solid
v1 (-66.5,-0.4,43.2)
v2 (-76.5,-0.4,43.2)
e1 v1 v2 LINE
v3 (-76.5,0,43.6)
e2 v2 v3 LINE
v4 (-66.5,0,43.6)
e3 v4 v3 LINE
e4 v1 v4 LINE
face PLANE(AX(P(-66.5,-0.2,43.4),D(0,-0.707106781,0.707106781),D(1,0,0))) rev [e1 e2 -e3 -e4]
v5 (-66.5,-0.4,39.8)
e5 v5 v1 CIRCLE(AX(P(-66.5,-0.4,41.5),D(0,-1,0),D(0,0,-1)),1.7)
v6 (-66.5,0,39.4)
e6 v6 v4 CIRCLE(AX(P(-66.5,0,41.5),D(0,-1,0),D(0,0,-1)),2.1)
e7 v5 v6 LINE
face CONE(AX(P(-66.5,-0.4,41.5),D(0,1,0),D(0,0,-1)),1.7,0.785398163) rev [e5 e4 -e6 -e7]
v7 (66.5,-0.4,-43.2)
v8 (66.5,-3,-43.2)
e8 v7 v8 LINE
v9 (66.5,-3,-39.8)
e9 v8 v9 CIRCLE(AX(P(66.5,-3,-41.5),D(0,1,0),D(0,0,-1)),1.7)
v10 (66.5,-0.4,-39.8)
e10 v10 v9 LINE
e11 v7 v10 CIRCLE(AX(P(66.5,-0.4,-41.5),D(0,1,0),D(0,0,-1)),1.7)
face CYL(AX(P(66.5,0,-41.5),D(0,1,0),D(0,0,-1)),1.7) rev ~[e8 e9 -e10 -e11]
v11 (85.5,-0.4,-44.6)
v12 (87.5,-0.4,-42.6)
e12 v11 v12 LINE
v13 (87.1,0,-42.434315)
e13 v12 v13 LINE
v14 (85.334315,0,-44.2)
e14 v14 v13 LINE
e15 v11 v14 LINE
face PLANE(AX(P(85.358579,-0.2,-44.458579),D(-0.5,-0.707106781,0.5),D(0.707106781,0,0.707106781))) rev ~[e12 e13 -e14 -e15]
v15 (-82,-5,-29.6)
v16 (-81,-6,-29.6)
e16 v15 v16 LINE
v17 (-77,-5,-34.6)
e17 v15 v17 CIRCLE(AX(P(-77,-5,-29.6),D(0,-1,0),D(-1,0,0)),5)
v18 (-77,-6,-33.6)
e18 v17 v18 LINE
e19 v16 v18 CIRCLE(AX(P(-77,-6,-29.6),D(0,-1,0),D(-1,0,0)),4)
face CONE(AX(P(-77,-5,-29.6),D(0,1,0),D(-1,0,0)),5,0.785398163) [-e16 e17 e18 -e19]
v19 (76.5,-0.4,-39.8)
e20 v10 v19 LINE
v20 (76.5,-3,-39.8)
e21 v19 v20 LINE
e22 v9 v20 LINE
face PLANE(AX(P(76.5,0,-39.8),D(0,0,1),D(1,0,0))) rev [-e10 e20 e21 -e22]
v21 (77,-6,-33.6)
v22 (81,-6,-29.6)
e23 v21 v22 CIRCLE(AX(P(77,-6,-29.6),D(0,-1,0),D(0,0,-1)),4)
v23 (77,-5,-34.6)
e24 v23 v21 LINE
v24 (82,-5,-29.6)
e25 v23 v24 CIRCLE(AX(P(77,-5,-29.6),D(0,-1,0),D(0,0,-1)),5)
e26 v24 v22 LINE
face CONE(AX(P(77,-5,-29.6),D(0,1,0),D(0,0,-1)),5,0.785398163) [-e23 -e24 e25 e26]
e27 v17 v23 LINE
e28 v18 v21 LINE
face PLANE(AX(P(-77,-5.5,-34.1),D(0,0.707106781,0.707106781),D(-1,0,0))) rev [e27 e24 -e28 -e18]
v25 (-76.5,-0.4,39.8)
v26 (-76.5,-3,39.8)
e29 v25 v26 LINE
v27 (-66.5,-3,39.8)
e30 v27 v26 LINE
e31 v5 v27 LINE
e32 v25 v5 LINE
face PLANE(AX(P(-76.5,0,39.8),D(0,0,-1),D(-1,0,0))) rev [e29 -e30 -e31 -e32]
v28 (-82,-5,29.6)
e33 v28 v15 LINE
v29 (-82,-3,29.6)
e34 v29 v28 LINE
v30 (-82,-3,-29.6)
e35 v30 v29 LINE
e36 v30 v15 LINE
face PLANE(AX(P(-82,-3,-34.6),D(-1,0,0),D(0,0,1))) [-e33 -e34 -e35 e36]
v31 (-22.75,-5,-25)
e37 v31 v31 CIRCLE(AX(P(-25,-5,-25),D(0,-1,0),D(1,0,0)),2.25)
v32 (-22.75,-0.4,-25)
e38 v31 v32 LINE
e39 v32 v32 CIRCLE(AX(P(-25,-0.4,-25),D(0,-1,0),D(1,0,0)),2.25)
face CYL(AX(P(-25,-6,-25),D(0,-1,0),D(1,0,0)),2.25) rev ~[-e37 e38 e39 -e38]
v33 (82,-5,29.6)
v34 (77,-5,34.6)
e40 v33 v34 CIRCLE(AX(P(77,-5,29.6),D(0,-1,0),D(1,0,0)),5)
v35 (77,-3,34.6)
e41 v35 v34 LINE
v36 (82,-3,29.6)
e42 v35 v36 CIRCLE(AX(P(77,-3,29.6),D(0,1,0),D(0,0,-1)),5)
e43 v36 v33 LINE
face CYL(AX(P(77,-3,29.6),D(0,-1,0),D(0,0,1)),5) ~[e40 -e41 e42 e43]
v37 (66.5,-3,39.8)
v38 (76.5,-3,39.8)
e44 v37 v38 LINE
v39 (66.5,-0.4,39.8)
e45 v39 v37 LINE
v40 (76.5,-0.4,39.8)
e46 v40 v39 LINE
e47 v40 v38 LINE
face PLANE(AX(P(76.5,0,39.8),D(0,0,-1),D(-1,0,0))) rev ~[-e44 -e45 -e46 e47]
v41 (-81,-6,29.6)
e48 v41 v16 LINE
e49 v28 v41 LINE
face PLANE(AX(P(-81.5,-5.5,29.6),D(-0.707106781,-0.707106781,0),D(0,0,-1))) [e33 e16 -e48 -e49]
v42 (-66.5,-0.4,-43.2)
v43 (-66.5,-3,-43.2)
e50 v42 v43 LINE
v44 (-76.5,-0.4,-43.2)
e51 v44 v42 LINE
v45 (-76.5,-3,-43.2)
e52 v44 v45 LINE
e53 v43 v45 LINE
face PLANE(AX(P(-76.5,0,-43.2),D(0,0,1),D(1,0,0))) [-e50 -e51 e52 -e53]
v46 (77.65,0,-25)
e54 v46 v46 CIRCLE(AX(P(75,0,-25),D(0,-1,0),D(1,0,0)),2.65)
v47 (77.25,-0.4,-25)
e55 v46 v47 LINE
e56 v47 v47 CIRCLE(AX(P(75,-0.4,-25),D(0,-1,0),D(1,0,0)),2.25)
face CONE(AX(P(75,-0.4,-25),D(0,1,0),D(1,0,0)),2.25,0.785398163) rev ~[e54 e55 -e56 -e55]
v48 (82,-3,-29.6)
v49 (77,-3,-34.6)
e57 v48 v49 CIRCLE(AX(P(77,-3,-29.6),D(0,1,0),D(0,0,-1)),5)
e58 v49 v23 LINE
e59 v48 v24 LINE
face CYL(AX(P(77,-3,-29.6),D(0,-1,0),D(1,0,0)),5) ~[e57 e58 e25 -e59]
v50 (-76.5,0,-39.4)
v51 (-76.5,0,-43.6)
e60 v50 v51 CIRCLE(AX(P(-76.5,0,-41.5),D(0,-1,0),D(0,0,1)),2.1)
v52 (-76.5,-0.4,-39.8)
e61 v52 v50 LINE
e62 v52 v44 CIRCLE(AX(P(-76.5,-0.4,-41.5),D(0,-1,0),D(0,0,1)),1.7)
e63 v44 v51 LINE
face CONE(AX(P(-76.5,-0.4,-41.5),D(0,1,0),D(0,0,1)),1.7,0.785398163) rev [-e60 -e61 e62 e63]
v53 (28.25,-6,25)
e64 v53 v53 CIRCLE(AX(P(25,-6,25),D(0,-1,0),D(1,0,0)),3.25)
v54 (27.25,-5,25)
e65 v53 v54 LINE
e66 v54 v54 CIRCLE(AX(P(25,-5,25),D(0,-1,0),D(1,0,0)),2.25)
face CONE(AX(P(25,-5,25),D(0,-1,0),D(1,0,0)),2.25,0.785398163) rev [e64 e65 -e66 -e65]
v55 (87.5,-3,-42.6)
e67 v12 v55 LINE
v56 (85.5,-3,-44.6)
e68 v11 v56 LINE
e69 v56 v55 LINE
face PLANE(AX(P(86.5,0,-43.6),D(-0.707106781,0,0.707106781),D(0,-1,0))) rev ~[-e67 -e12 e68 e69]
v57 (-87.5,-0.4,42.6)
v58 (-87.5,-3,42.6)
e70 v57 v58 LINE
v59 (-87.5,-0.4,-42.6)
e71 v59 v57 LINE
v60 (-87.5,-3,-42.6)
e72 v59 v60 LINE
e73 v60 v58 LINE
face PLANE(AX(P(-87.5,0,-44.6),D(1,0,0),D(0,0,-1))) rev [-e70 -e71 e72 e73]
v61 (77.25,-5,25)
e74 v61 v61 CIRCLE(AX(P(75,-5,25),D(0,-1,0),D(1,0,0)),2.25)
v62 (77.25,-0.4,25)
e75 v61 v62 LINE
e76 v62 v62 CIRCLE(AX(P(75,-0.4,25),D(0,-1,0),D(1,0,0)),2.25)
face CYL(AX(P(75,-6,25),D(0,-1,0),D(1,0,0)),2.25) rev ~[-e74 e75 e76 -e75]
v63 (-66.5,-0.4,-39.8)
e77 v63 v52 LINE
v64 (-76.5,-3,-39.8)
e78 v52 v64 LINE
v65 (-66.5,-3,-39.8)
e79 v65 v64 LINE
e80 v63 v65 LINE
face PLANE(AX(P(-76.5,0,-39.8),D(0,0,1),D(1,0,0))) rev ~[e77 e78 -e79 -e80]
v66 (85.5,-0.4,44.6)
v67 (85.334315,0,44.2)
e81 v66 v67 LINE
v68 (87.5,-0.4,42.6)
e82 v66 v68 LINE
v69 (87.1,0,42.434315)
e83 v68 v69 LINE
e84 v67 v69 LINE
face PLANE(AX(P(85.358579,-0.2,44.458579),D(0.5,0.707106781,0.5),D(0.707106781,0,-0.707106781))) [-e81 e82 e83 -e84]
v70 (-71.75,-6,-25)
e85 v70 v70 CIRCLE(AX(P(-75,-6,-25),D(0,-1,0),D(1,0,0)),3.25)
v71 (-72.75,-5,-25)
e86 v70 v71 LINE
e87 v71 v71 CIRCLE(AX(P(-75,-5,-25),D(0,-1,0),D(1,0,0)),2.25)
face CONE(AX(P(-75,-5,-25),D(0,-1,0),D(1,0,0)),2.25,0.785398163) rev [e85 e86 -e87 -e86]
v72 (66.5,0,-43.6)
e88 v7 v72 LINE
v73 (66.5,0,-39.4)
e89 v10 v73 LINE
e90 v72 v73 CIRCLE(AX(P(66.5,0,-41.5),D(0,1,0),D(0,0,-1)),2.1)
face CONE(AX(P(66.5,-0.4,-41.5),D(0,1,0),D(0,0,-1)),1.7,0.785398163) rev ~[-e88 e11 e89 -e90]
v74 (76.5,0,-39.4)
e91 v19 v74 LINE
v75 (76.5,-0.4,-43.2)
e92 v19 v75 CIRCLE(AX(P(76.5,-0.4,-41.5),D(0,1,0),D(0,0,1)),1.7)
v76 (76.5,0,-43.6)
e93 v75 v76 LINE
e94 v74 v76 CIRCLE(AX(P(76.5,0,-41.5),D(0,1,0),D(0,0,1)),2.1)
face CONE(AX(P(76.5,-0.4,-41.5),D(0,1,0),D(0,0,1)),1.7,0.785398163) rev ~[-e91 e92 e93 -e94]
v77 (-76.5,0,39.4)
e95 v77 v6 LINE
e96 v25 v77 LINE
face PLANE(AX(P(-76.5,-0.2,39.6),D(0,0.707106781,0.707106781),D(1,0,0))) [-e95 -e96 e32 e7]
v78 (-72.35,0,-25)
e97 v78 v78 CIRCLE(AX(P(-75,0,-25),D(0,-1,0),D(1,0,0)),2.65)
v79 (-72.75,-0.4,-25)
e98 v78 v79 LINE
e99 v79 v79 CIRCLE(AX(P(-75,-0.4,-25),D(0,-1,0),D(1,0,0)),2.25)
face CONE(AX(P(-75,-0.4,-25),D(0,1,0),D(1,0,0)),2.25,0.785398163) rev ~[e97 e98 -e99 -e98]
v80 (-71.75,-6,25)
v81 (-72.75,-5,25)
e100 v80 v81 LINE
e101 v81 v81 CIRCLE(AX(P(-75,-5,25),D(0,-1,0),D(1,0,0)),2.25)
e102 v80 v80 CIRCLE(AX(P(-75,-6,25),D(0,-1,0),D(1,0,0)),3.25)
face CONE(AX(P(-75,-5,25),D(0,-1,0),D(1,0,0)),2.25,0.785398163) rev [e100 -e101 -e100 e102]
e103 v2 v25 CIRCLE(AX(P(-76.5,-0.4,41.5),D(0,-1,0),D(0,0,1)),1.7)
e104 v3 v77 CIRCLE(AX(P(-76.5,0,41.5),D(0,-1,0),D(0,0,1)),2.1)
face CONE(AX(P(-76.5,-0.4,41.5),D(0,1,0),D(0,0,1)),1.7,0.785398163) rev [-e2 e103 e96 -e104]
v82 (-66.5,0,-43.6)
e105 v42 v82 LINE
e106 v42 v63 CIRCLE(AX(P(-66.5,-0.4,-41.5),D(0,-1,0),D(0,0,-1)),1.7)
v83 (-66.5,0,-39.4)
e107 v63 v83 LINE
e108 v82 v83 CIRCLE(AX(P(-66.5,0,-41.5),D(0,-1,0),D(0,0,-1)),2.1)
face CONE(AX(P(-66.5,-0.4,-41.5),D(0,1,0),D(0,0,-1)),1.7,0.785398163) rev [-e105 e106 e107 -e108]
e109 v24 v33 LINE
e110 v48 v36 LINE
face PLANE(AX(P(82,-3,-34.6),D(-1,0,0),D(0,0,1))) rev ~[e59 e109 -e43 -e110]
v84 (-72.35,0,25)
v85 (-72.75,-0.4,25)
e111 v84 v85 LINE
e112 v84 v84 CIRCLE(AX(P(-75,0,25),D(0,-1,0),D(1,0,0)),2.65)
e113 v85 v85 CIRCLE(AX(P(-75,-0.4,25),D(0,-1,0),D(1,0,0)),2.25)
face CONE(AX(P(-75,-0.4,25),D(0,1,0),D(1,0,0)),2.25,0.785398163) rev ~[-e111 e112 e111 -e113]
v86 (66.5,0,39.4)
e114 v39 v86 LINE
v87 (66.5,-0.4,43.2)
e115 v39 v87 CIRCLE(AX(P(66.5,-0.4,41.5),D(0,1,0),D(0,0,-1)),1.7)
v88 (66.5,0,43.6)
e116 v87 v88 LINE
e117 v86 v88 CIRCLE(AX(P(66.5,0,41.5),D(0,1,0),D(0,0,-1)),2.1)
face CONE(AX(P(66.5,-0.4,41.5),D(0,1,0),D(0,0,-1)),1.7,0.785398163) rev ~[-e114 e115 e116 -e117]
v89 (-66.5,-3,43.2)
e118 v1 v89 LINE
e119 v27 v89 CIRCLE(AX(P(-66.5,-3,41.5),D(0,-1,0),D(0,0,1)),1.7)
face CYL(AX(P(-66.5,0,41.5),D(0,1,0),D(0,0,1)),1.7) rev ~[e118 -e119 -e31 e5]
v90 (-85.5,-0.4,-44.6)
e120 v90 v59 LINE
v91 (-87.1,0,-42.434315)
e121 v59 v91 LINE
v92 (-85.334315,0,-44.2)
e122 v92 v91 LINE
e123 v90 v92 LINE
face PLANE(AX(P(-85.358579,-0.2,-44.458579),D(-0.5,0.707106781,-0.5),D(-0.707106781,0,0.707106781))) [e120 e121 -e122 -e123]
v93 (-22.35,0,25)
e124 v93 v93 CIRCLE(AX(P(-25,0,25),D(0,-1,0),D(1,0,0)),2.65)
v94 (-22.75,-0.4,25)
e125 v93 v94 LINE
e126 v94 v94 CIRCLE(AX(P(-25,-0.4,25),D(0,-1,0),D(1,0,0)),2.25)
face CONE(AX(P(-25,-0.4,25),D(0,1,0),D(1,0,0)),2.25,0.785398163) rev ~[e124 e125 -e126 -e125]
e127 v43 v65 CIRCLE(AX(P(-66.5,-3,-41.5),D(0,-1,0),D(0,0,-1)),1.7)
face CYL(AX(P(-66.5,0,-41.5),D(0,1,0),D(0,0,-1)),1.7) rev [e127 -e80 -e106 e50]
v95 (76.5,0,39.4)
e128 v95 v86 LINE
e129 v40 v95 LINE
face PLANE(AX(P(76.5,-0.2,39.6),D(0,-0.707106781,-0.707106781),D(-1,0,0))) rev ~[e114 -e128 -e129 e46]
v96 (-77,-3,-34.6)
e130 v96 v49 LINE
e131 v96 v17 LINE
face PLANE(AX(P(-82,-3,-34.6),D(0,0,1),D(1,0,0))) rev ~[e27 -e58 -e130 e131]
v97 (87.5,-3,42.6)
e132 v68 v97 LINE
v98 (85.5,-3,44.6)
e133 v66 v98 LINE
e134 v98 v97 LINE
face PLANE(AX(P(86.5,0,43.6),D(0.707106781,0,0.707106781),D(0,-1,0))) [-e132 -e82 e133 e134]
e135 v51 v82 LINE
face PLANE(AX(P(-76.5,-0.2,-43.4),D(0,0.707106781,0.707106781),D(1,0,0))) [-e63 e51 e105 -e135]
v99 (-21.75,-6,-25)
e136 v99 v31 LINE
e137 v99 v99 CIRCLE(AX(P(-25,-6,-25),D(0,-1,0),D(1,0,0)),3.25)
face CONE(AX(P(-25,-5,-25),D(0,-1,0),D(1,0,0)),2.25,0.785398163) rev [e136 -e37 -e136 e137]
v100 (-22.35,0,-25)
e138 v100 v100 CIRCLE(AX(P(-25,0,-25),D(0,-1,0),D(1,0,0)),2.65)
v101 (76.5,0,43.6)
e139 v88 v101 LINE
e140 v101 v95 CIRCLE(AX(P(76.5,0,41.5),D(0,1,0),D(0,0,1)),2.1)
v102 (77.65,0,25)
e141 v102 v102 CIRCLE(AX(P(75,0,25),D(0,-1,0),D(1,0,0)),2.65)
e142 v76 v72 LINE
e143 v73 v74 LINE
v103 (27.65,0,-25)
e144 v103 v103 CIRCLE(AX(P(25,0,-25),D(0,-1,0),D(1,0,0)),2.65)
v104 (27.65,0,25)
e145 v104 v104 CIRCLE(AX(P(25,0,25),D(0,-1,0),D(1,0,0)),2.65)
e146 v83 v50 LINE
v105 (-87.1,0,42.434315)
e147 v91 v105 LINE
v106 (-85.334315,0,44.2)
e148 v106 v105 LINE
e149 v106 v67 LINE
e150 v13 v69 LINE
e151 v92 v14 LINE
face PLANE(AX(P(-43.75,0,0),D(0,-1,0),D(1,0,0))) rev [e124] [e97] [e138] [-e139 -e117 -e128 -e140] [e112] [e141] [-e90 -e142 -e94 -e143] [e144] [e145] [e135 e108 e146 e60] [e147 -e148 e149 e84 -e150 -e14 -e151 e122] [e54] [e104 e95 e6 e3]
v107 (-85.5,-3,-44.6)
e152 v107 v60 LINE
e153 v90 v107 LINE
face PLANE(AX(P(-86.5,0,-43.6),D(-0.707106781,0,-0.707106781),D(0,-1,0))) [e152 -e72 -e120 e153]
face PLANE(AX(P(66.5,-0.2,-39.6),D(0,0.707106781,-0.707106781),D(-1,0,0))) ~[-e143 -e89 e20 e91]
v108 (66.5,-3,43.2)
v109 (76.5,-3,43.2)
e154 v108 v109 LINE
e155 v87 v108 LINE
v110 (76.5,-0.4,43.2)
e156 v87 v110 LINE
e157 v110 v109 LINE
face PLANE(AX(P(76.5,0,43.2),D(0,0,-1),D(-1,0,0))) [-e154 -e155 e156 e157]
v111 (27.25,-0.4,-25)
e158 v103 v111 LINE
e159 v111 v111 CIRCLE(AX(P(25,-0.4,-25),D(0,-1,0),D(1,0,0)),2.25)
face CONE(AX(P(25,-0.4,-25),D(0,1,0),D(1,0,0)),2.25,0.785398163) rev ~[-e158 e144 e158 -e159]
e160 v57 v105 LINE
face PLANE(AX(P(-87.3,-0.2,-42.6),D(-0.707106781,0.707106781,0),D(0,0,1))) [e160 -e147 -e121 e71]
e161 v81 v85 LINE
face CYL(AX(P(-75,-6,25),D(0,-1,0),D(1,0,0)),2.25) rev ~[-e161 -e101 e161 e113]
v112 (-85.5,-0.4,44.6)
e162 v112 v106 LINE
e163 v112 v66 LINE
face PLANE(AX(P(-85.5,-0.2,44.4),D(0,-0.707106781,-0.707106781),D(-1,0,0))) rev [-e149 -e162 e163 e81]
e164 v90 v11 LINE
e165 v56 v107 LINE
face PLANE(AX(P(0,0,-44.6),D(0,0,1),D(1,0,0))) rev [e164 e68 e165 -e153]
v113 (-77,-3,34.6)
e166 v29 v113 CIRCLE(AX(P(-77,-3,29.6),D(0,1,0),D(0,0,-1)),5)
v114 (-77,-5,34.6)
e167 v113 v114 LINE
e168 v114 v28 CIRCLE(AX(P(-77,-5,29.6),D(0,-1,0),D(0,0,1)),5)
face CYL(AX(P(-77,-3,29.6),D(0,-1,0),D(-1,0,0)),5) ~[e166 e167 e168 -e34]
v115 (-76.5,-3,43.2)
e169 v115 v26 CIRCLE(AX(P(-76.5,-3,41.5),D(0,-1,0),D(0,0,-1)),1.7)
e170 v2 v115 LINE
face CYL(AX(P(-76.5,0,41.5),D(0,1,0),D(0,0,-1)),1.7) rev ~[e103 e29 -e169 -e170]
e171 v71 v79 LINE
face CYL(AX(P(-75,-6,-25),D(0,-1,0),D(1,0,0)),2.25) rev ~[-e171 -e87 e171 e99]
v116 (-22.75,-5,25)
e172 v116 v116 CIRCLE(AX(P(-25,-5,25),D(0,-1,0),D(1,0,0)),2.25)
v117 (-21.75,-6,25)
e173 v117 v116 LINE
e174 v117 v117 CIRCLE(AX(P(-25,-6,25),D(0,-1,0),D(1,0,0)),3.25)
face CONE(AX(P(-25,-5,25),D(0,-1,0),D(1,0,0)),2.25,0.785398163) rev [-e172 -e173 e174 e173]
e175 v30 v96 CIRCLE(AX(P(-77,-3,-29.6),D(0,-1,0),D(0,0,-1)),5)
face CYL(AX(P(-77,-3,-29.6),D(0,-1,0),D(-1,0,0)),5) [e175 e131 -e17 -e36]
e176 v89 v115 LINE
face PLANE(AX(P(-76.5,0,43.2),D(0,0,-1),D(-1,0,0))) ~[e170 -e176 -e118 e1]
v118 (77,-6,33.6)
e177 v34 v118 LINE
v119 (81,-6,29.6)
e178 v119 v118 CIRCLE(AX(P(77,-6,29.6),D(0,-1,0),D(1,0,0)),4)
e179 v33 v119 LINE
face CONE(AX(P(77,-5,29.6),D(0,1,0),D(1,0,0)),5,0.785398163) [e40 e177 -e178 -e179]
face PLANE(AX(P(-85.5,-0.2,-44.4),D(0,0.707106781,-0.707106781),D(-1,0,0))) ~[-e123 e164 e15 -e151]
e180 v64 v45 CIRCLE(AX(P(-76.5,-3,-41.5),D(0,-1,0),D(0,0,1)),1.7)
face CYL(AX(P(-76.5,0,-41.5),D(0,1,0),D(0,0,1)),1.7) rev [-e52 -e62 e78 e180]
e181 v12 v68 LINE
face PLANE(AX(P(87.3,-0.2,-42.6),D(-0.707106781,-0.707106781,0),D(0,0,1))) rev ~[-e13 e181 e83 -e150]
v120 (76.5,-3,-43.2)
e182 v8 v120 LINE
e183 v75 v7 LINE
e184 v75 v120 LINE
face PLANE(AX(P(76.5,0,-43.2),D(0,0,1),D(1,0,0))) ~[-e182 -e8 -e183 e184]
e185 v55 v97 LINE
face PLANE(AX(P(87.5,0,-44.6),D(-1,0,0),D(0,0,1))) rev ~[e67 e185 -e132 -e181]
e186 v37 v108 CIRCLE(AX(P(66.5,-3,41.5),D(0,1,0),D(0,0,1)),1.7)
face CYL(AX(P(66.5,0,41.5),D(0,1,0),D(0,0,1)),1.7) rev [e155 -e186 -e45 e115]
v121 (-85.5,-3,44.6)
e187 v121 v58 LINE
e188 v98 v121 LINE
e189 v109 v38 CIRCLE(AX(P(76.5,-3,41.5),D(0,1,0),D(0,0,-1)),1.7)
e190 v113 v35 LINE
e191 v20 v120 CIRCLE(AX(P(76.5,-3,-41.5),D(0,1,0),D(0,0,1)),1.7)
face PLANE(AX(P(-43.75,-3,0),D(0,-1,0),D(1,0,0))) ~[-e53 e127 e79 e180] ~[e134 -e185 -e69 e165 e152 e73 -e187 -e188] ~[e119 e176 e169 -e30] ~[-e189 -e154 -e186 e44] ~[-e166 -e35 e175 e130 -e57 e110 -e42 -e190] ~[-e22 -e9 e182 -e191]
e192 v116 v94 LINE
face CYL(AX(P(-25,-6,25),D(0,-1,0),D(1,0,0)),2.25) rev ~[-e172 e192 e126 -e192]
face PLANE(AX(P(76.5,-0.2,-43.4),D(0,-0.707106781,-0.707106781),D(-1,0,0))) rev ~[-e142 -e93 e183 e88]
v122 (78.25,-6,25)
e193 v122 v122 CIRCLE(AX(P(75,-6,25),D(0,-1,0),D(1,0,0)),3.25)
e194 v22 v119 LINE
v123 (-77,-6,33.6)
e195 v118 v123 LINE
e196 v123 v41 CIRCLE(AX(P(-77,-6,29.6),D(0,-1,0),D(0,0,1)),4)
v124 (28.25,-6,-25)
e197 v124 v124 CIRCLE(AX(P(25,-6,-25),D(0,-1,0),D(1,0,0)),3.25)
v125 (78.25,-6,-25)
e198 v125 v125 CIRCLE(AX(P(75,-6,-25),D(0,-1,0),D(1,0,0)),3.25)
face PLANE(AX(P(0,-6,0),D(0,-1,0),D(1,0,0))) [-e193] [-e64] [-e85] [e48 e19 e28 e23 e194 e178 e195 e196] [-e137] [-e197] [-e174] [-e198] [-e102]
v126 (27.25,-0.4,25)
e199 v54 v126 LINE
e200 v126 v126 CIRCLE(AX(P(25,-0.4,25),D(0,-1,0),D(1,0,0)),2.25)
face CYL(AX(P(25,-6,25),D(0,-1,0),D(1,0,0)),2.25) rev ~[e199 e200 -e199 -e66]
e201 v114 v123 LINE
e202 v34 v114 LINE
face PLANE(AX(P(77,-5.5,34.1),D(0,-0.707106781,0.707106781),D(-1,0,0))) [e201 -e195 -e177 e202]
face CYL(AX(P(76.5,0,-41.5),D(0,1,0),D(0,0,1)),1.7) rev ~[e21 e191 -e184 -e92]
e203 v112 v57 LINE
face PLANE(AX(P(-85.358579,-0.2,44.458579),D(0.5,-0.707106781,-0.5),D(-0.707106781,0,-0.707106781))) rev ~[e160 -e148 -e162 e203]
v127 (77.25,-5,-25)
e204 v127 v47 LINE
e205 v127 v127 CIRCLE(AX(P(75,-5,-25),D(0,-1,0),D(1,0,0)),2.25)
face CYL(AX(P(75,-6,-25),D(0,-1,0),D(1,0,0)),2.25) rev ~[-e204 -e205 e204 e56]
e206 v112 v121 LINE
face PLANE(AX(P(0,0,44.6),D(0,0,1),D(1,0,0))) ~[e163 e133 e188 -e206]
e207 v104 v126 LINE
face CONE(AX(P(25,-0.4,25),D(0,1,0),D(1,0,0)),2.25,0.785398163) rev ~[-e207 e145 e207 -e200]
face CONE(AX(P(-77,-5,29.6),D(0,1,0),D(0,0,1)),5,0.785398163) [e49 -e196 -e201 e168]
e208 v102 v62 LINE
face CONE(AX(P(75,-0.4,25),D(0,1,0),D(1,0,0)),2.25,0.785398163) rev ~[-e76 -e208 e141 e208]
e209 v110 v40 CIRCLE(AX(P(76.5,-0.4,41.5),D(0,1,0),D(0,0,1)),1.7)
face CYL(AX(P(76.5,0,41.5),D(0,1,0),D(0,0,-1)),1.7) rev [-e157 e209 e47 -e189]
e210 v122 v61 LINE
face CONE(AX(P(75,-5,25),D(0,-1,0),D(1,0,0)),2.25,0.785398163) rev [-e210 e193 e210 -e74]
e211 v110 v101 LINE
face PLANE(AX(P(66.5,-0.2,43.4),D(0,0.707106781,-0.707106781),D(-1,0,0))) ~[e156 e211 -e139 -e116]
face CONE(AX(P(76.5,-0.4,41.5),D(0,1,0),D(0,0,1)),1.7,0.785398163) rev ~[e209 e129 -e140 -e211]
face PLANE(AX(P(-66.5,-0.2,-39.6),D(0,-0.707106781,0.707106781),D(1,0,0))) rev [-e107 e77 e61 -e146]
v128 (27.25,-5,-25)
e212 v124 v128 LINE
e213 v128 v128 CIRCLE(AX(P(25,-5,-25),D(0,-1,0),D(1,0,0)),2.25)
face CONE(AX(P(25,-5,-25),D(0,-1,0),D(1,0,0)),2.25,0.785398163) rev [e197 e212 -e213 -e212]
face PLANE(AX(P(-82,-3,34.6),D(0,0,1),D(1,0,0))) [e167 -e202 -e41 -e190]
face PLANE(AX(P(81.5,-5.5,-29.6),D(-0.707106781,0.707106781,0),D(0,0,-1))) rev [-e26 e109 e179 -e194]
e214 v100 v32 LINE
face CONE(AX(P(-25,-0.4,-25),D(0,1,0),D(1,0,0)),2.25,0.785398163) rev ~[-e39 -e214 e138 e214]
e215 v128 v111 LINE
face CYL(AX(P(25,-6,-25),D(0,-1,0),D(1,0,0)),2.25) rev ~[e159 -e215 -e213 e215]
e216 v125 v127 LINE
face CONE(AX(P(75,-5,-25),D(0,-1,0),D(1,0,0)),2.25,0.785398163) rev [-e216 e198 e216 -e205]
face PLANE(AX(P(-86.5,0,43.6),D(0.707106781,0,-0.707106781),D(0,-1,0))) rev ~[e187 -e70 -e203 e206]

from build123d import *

# Parameters (mm, degrees)
SKETCH022_W     = 87.5
SKETCH022_H     = 89.2
PAD013_DEPTH    = 3
POCKET010_DEPTH = 5
CHAMFER013_SIZE = 2
SKETCH025_W     = 164
SKETCH025_H     = 69.2
PAD015_DEPTH    = 3
FILLET004_R     = 5
SKETCH026_R     = 2.25
POCKET011_DEPTH = 7
CHAMFER014_SIZE = 1
CHAMFER015_SIZE = 0.4


with BuildPart() as part:
    # Sketch022 (on XZ_Plane007 of Origin026) → Pad013 (new body)
    with BuildSketch(Plane.XZ):
        with Locations((43.75, 0)):
            Rectangle(SKETCH022_W, SKETCH022_H)
    extrude(amount=PAD013_DEPTH)

    # Sketch023 (on XZ_Plane007 of Origin026) → Pocket010 (cut)
    with BuildSketch(Plane.XZ):
        with BuildLine():
            ThreePointArc((76.5, 39.8), (78.2, 41.5), (76.5, 43.2))
            Line((76.5, 43.2), (66.5, 43.2))
            ThreePointArc((66.5, 43.2), (64.8, 41.5), (66.5, 39.8))
            Line((76.5, 39.8), (66.5, 39.8))
        make_face()
    pocket010 = extrude(amount=POCKET010_DEPTH, mode=Mode.SUBTRACT)

    # Mirrored008: Pocket010 across XY
    add(pocket010.mirror(Plane.XY), mode=Mode.SUBTRACT)

    # Mirrored009: part across YZ


with BuildPart() as part_1:
    add(part.part)
    add(part.part.mirror(Plane.YZ))

    # Chamfer013
    chamfer013_edges = [part_1.edges().sort_by_distance(p)[0] for p in [
        (-87.5, -1.5, 44.6),
        (-87.5, -1.5, -44.6),
        (87.5, -1.5, 44.6),
        (87.5, -1.5, -44.6),
    ]]
    chamfer(chamfer013_edges, length=CHAMFER013_SIZE)

    # Sketch025 → Pad015 (join)
    with BuildSketch(Plane.XZ.offset(3)):
        Rectangle(SKETCH025_W, SKETCH025_H)
    extrude(amount=PAD015_DEPTH)

    # Fillet004
    fillet004_edges = [part_1.edges().sort_by_distance(p)[0] for p in [
        (82, -4.5, 34.6),
        (82, -4.5, -34.6),
        (-82, -4.5, 34.6),
        (-82, -4.5, -34.6),
    ]]
    fillet(fillet004_edges, radius=FILLET004_R)

    # Sketch026 (on Face34 of Fillet004) → Pocket011 (cut)
    with BuildSketch(Plane.XZ.offset(6)):
        with Locations((-75, 25)):
            Circle(SKETCH026_R)
        with Locations((-25, 25)):
            Circle(SKETCH026_R)
        with Locations((25, 25)):
            Circle(SKETCH026_R)
        with Locations((75, 25)):
            Circle(SKETCH026_R)
        with Locations((75, -25)):
            Circle(SKETCH026_R)
        with Locations((25, -25)):
            Circle(SKETCH026_R)
        with Locations((-25, -25)):
            Circle(SKETCH026_R)
        with Locations((-75, -25)):
            Circle(SKETCH026_R)
    extrude(amount=-POCKET011_DEPTH, mode=Mode.SUBTRACT)

    # Chamfer014
    chamfer014_edges = [part_1.edges().sort_by_distance(p)[0] for p in [
        (0, -6, -34.6),
        (-80.535534, -6, -33.135534),
        (80.535534, -6, -33.135534),
        (-82, -6, 0),
        (82, -6, 0),
        (-80.535534, -6, 33.135534),
        (80.535534, -6, 33.135534),
        (0, -6, 34.6),
        (-77.25, -6, -25),
        (-27.25, -6, -25),
        (-77.25, -6, 25),
        (-27.25, -6, 25),
        (22.75, -6, -25),
        (72.75, -6, -25),
        (22.75, -6, 25),
        (72.75, -6, 25),
    ]]
    chamfer(chamfer014_edges, length=CHAMFER014_SIZE)

    # Chamfer015
    chamfer015_edges = [part_1.edges().sort_by_distance(p)[0] for p in [
        (0, 0, -44.6),
        (86.5, 0, -43.6),
        (-86.5, 0, -43.6),
        (87.5, 0, 0),
        (-87.5, 0, 0),
        (86.5, 0, 43.6),
        (-86.5, 0, 43.6),
        (0, 0, 44.6),
        (-78.2, 0, -41.5),
        (-71.5, 0, -39.8),
        (-71.5, 0, -43.2),
        (-64.8, 0, -41.5),
        (-77.25, 0, -25),
        (-27.25, 0, -25),
        (-77.25, 0, 25),
        (-71.5, 0, 39.8),
        (-78.2, 0, 41.5),
        (-64.8, 0, 41.5),
        (-71.5, 0, 43.2),
        (-27.25, 0, 25),
        (22.75, 0, -25),
        (78.2, 0, -41.5),
        (71.5, 0, -39.8),
        (71.5, 0, -43.2),
        (64.8, 0, -41.5),
        (72.75, 0, -25),
        (22.75, 0, 25),
        (72.75, 0, 25),
        (71.5, 0, 39.8),
        (78.2, 0, 41.5),
        (64.8, 0, 41.5),
        (71.5, 0, 43.2),
    ]]
    chamfer(chamfer015_edges, length=CHAMFER015_SIZE)


solid = part_1.part
